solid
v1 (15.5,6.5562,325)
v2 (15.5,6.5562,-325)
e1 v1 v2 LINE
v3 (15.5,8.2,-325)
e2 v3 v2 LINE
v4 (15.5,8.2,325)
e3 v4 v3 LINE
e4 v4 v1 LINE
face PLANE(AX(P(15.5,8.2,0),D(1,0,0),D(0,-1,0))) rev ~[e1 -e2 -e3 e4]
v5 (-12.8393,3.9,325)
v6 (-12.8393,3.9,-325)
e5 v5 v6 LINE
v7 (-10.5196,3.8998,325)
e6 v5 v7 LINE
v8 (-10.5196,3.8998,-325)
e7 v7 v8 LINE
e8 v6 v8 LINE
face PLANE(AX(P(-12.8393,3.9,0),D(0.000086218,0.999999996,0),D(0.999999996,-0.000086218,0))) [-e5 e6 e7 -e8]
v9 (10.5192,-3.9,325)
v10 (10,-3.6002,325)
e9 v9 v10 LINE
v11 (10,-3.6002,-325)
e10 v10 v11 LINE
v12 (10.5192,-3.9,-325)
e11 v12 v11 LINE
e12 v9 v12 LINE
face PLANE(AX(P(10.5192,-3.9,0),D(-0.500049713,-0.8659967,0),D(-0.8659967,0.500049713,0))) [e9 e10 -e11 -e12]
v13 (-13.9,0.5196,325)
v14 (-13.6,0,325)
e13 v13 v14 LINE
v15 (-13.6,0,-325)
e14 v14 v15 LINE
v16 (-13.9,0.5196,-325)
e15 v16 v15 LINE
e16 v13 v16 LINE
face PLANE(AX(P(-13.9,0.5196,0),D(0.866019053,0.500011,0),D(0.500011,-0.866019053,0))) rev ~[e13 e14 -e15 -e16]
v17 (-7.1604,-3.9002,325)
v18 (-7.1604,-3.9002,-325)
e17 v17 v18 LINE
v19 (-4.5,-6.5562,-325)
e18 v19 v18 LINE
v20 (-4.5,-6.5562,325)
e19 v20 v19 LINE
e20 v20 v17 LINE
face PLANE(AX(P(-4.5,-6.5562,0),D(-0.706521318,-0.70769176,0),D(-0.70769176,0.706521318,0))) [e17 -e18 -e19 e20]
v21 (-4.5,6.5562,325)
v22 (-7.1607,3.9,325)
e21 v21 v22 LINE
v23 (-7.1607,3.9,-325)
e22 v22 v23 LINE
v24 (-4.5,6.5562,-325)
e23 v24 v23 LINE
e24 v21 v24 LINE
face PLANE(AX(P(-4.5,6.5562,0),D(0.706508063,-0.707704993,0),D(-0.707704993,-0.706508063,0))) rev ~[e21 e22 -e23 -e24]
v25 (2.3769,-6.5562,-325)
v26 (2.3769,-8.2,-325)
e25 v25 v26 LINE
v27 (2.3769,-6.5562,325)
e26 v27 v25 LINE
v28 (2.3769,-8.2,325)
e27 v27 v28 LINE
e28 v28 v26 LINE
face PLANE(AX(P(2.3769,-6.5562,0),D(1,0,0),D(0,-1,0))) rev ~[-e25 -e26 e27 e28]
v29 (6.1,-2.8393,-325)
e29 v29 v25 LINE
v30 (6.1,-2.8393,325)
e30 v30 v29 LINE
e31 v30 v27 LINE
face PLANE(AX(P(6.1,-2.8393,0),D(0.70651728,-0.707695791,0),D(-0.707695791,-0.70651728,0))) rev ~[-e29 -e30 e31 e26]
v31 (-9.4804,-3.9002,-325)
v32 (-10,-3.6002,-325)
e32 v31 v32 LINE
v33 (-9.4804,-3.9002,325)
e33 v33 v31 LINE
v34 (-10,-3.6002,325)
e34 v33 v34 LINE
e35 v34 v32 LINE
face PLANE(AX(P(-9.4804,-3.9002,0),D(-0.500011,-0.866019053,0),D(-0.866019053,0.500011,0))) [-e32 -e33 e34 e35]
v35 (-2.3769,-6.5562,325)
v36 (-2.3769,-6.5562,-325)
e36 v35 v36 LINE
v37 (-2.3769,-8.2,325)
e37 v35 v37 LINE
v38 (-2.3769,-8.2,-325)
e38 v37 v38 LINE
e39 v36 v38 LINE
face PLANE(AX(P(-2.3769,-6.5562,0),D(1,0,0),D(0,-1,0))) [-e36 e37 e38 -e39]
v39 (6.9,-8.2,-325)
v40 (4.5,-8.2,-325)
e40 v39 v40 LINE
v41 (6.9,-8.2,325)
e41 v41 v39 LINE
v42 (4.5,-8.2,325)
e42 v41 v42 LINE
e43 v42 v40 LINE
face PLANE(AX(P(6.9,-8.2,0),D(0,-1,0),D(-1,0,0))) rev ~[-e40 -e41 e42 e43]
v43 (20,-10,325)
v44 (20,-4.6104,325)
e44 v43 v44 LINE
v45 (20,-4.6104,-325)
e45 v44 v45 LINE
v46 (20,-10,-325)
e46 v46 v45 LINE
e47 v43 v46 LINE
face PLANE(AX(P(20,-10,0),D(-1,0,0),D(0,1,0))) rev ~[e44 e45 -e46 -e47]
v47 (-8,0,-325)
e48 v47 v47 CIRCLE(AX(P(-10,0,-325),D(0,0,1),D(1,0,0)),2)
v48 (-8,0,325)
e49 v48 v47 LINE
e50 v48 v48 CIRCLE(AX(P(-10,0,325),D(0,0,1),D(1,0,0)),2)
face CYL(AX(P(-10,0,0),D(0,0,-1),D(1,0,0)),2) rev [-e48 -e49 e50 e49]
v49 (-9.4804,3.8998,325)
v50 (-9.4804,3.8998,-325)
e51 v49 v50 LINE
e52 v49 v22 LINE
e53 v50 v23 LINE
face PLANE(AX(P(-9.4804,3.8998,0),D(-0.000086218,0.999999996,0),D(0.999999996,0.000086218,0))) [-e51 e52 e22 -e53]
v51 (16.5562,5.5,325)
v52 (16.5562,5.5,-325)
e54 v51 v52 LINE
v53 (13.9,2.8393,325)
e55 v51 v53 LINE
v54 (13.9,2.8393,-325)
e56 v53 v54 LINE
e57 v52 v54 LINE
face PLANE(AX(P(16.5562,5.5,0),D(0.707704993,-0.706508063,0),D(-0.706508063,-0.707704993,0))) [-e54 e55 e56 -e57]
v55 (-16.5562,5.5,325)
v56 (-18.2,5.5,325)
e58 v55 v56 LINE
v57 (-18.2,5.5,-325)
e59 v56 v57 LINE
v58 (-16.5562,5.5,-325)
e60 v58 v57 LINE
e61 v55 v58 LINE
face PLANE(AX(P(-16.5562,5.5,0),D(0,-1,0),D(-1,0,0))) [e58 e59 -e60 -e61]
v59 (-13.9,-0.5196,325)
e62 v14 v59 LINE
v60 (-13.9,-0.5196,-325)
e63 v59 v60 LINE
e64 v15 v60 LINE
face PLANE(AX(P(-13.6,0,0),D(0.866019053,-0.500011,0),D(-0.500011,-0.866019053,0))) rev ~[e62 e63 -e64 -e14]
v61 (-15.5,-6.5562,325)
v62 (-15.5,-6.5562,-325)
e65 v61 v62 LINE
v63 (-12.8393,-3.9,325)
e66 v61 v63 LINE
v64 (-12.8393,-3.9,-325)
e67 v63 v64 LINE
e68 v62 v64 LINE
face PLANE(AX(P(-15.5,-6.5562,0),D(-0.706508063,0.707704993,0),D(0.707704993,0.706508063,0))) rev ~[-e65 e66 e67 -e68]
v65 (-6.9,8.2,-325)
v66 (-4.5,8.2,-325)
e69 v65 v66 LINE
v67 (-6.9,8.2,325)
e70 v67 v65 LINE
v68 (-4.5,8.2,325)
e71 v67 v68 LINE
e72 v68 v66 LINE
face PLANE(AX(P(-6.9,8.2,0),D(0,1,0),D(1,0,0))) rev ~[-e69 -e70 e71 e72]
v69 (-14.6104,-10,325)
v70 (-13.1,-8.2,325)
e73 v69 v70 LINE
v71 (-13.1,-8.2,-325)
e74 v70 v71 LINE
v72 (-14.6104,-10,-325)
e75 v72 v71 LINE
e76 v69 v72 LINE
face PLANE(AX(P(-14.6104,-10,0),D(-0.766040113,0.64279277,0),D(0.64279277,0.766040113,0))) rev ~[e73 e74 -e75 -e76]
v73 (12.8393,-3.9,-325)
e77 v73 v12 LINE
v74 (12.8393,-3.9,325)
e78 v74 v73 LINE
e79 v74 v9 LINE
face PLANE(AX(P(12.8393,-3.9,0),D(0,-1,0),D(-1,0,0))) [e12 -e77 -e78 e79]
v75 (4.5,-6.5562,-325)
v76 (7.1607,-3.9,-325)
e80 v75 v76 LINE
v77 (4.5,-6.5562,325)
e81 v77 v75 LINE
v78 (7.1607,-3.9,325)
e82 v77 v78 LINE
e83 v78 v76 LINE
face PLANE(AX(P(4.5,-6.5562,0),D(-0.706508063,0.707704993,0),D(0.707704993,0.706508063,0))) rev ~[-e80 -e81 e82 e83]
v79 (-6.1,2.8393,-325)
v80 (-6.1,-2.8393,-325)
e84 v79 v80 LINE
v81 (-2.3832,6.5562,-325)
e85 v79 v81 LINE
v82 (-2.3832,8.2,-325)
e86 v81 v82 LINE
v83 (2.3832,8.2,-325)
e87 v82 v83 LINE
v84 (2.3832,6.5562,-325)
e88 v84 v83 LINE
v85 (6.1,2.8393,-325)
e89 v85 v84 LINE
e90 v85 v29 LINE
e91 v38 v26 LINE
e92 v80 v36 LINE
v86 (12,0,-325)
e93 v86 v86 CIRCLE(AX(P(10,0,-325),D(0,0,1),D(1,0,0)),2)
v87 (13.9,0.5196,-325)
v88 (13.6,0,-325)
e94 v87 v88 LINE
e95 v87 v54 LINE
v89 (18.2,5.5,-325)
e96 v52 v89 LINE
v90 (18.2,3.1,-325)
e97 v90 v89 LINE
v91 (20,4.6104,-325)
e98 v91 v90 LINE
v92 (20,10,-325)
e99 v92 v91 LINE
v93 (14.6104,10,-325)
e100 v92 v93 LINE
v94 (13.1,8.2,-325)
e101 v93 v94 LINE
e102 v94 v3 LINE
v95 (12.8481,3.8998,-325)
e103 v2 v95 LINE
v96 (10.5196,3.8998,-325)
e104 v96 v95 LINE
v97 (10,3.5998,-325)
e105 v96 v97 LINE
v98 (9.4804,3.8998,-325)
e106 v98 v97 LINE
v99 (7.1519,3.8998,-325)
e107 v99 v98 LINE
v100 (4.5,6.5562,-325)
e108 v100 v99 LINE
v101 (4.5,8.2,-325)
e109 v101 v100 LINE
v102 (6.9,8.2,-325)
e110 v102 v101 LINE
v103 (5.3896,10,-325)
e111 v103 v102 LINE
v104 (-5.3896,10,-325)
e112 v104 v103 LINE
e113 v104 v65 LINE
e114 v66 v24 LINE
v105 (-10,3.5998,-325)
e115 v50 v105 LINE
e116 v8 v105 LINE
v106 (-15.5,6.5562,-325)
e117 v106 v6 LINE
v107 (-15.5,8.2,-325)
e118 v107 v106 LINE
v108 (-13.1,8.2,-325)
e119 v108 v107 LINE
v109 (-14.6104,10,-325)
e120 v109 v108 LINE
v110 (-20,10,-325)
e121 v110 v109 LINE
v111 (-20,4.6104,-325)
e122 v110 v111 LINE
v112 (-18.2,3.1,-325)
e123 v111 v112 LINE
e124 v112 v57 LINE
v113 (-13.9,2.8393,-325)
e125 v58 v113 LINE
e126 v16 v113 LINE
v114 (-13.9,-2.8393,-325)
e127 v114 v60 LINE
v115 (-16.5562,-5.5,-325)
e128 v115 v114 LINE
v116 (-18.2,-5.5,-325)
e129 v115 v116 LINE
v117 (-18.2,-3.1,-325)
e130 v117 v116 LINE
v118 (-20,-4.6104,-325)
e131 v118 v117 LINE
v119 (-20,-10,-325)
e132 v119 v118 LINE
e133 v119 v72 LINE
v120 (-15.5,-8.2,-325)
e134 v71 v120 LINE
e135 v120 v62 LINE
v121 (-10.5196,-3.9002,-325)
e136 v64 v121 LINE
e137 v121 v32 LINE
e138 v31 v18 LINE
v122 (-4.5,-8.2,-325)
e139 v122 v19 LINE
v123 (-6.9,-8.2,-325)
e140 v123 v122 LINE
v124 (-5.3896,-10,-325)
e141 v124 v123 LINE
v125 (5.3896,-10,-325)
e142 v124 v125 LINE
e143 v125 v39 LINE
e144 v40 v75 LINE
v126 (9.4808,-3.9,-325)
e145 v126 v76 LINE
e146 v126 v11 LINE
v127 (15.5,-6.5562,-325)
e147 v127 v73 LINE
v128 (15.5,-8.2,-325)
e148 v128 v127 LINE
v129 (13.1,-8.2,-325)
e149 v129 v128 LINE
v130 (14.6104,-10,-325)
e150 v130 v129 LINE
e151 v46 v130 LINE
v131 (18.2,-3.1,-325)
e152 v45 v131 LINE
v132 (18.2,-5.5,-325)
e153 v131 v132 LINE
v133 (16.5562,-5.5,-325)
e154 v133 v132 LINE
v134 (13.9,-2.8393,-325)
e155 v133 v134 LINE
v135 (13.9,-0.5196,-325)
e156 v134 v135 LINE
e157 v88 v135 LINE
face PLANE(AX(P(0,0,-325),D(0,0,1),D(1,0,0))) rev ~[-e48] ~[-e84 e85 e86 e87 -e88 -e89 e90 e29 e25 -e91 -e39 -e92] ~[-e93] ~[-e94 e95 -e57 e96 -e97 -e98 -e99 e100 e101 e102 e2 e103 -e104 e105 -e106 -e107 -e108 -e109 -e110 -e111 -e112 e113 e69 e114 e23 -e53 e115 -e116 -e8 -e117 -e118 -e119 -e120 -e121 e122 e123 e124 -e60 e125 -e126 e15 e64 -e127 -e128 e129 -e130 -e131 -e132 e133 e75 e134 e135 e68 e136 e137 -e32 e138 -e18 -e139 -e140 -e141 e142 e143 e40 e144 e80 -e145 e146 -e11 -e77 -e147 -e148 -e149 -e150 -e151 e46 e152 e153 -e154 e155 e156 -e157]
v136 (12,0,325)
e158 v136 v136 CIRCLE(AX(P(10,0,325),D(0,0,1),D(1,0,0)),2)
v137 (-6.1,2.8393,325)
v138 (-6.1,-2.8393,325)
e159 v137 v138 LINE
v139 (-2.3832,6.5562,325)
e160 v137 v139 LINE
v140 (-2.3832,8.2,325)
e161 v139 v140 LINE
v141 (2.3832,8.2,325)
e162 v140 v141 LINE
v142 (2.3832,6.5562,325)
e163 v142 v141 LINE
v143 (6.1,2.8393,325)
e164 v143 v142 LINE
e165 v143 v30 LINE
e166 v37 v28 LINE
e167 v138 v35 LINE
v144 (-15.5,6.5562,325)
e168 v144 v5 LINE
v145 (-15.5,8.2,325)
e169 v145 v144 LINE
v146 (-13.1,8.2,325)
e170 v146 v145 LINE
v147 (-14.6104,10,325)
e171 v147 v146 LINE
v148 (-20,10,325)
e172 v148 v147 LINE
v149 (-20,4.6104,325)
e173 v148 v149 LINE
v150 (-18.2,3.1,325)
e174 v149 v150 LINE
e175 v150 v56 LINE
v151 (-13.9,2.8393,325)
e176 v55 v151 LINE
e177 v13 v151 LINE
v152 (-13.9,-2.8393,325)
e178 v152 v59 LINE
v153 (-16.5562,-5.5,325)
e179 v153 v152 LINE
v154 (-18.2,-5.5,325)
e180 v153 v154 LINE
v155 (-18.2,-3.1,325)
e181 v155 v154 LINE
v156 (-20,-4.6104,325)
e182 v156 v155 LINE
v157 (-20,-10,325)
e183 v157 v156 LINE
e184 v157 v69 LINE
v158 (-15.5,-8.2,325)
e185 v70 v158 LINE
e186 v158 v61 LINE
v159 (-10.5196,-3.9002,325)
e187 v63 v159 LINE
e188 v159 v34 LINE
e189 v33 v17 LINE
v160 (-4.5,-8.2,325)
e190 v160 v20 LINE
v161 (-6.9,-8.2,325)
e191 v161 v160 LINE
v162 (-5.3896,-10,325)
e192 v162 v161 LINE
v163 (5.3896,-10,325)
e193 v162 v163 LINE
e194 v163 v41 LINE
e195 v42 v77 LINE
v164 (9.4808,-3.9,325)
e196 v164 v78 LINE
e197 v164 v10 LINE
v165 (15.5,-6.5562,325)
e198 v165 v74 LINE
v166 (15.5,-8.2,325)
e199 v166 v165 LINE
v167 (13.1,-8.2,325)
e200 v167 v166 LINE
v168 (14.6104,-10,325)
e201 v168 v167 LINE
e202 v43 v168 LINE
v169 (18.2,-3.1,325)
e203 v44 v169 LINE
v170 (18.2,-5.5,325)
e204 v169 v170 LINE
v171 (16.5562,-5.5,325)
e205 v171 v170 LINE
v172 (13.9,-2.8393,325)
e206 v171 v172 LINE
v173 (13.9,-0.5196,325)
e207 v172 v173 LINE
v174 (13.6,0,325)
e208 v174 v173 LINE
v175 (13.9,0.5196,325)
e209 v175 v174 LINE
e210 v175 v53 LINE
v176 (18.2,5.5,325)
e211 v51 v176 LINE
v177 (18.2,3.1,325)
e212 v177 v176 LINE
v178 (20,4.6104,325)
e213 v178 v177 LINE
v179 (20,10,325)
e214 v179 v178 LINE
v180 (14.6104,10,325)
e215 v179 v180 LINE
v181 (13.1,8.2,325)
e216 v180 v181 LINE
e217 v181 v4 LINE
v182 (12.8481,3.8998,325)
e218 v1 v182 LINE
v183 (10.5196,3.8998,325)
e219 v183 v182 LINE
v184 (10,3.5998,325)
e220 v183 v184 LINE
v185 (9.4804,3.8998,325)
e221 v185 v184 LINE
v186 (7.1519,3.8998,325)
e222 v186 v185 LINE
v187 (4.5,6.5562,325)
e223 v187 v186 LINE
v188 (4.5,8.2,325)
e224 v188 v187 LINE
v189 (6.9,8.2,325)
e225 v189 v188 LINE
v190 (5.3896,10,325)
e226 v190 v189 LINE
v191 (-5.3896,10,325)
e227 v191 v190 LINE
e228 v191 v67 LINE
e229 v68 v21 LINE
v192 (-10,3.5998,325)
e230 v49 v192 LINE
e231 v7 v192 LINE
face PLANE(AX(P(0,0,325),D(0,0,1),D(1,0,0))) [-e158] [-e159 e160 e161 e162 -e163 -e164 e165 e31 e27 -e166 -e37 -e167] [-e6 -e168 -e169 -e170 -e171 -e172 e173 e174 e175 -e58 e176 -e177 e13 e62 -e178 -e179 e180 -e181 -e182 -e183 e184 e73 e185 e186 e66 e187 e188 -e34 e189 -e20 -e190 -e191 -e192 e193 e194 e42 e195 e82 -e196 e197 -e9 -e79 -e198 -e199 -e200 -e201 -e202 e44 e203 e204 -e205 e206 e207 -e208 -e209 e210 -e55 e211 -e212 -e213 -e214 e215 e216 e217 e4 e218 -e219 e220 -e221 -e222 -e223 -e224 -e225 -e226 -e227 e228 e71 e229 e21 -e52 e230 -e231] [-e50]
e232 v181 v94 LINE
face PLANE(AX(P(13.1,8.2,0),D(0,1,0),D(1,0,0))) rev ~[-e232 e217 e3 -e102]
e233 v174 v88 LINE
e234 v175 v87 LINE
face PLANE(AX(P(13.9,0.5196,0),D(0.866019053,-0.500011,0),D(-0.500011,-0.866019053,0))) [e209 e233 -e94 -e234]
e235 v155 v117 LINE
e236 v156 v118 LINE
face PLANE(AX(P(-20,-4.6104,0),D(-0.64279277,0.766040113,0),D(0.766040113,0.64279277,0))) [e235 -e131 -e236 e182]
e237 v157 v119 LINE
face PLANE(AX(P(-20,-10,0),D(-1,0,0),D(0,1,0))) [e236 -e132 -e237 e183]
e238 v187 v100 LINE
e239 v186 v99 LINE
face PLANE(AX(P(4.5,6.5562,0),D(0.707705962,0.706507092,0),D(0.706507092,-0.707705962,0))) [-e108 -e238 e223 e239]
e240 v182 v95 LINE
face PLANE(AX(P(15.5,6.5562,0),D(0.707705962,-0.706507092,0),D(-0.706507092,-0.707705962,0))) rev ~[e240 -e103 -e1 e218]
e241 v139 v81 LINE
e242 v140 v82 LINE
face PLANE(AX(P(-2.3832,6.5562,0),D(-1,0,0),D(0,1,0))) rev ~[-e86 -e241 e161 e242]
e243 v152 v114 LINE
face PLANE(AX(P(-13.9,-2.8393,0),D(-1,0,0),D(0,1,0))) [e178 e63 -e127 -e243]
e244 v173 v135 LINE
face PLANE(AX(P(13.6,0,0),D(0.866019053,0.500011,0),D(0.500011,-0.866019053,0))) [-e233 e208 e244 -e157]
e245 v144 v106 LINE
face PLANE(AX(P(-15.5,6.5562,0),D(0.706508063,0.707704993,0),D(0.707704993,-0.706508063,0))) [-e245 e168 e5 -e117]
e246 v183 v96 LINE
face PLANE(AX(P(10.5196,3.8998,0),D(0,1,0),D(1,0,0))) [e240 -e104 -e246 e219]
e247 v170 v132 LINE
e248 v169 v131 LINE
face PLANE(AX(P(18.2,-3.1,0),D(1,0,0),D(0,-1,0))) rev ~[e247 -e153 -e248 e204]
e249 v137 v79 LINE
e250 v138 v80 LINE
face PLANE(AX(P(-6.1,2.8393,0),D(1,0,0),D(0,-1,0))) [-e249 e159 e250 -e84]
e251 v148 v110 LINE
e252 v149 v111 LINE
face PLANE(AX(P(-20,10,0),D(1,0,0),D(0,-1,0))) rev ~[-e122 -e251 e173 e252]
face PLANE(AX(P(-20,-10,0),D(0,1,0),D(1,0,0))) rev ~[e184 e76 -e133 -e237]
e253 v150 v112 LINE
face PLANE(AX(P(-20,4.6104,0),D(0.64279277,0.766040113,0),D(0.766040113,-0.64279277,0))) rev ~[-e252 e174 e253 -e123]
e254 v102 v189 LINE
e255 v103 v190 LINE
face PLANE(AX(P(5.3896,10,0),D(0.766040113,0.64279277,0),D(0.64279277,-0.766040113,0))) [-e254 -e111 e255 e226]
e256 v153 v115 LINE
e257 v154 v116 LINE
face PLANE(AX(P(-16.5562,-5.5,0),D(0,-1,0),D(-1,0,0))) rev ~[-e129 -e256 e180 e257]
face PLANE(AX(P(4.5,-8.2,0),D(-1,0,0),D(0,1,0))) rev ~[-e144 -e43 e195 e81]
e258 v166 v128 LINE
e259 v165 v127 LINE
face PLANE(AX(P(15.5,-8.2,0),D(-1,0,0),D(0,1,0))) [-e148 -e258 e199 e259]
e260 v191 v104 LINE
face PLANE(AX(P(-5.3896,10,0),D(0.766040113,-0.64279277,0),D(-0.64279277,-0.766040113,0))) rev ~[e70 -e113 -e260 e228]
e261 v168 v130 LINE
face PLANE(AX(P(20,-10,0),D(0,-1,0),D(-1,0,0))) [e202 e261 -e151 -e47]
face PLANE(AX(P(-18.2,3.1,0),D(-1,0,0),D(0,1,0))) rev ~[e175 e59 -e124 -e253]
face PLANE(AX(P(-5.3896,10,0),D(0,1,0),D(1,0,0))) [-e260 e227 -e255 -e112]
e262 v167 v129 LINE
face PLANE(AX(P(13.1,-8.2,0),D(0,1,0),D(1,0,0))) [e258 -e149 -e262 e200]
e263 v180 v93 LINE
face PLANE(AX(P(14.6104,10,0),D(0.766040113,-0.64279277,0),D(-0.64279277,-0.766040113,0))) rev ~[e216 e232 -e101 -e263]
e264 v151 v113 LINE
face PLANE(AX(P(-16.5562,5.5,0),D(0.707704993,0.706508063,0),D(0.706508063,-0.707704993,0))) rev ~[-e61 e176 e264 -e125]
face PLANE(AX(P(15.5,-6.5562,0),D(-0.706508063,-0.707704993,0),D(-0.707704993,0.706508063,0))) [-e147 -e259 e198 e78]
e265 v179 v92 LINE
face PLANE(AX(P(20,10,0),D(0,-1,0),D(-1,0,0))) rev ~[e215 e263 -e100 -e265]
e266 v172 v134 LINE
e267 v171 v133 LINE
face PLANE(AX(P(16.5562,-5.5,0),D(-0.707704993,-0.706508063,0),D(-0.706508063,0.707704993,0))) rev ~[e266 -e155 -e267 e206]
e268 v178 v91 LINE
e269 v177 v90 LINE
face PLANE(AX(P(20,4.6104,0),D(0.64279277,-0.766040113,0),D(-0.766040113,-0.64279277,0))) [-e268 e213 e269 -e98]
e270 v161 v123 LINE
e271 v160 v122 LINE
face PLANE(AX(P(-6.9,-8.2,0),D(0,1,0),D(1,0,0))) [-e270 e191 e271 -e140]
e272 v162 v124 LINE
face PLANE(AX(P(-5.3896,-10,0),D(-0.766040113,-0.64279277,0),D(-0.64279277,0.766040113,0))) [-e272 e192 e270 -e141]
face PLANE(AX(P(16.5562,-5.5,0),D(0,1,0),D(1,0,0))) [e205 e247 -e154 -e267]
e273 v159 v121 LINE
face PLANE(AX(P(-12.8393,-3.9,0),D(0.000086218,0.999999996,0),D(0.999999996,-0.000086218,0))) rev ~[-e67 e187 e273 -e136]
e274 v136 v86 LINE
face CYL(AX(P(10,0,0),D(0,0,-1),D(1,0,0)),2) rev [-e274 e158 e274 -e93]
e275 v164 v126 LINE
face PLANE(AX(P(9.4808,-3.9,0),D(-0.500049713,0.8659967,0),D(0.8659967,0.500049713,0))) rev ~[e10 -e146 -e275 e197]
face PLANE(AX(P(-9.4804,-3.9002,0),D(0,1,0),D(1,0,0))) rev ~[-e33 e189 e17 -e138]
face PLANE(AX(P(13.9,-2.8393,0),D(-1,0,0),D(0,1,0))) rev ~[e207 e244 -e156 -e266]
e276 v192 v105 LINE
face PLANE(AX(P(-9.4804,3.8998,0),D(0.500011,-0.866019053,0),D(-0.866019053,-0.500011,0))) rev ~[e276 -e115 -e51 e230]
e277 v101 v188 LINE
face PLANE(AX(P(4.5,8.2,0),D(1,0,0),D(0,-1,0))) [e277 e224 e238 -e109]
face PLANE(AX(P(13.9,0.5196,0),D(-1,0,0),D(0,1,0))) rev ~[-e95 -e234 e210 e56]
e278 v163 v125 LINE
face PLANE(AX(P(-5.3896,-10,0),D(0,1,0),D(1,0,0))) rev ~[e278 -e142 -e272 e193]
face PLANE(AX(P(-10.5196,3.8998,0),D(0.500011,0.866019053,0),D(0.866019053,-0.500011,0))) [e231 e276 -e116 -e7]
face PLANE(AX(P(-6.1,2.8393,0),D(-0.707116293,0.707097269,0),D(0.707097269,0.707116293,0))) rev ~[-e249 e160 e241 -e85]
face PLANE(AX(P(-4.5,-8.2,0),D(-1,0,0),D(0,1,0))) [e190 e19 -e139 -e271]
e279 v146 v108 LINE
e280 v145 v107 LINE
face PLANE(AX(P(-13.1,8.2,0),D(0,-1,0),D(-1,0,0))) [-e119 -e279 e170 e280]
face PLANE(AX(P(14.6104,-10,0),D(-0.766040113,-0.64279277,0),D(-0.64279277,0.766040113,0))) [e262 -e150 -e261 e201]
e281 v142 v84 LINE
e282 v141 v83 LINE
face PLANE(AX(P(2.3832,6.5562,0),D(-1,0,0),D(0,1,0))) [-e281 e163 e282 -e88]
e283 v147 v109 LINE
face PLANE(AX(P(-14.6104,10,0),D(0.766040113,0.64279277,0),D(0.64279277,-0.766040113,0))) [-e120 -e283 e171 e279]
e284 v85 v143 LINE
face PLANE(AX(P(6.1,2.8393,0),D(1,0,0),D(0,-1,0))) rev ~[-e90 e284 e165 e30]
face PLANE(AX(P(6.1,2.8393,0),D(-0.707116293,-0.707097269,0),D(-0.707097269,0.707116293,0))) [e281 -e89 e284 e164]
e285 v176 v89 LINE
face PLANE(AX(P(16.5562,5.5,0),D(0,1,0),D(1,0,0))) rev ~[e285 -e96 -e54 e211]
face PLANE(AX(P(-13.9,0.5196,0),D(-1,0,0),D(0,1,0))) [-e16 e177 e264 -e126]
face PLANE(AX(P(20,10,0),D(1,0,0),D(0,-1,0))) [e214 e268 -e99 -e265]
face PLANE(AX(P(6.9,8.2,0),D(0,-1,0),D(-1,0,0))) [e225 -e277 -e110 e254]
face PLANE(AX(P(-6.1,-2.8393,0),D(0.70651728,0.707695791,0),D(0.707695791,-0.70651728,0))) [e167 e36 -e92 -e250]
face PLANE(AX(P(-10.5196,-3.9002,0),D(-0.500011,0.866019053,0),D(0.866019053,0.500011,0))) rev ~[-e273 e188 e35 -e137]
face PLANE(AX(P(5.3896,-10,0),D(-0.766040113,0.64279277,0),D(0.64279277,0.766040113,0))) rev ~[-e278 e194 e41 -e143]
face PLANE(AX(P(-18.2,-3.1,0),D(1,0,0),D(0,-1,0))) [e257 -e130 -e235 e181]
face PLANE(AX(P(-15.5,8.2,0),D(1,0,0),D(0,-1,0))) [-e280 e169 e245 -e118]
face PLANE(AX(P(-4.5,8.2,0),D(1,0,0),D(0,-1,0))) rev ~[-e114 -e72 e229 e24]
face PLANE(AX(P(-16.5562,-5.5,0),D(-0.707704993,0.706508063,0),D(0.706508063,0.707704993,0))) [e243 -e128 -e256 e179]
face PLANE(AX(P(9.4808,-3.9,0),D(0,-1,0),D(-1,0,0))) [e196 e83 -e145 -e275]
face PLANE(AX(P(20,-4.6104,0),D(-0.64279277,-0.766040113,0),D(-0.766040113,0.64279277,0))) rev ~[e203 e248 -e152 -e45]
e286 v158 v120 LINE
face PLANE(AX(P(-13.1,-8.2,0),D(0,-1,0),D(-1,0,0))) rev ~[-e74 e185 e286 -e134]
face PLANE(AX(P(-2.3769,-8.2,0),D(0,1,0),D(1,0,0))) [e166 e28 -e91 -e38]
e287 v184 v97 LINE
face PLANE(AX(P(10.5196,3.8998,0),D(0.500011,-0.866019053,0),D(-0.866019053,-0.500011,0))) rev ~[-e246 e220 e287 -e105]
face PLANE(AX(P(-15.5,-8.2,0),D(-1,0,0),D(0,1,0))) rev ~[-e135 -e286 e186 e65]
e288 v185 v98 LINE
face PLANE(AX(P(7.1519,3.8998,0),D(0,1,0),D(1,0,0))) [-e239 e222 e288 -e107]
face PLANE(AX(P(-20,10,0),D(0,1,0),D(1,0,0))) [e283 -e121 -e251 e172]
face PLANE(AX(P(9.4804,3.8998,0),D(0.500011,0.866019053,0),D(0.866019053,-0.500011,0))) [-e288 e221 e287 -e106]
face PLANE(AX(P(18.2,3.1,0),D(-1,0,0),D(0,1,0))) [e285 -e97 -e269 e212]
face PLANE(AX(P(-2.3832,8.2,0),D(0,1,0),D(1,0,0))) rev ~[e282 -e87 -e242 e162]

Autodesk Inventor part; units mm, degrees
ref_plane "YZ Plane" through (0, 0, 0) normal (1, 0, 0) x (0, 1, 0)
ref_plane "XZ Plane" through (0, 0, 0) normal (0, 1, 0) x (-1, 0, 0)
ref_plane "XY Plane" through (0, 0, 0) normal (0, 0, 1) x (1, 0, 0)
sketch "Sketch1" plane through (0, 0, 0) normal (0, 0, 1) x (1, 0, 0)
  line L0 (4.5, 8.2) -> (4.5, 6.5562)
  line L1 (6.9, 8.2) -> (4.5, 8.2)
  line L2 (5.3896, 10) -> (6.9, 8.2)
  line L3 (-5.3896, 10) -> (5.3896, 10)
  line L4 (-5.3896, 10) -> (-6.9, 8.2)
  line L5 (-6.9, 8.2) -> (-4.5, 8.2)
  line L6 (-4.5, 8.2) -> (-4.5, 6.5562)
  line L7 (-4.5, 6.5562) -> (-7.1607, 3.9)
  line L8 (-9.4804, 3.8998) -> (-7.1607, 3.9)
  line L9 (-9.4804, 3.8998) -> (-10, 3.5998)
  line L10 (-10.5196, 3.8998) -> (-10, 3.5998)
  line L11 (-12.8393, 3.9) -> (-10.5196, 3.8998)
  line L12 (-15.5, 6.5562) -> (-12.8393, 3.9)
  line L13 (-15.5, 8.2) -> (-15.5, 6.5562)
  line L14 (-13.1, 8.2) -> (-15.5, 8.2)
  line L15 (-14.6104, 10) -> (-13.1, 8.2)
  line L16 (-20, 10) -> (-14.6104, 10)
  line L17 (-20, 10) -> (-20, 4.6104)
  line L18 (-20, 4.6104) -> (-18.2, 3.1)
  line L19 (-18.2, 3.1) -> (-18.2, 5.5)
  line L20 (-16.5562, 5.5) -> (-18.2, 5.5)
  line L21 (-16.5562, 5.5) -> (-13.9, 2.8393)
  line L22 (-13.9, 0.5196) -> (-13.9, 2.8393)
  line L23 (-13.9, 0.5196) -> (-13.6, 0)
  line L24 (-13.6, 0) -> (-13.9, -0.5196)
  line L25 (-13.9, -2.8393) -> (-13.9, -0.5196)
  line L26 (-16.5562, -5.5) -> (-13.9, -2.8393)
  line L27 (-16.5562, -5.5) -> (-18.2, -5.5)
  line L28 (-18.2, -3.1) -> (-18.2, -5.5)
  line L29 (-20, -4.6104) -> (-18.2, -3.1)
  line L30 (-20, -10) -> (-20, -4.6104)
  line L31 (-20, -10) -> (-14.6104, -10)
  line L32 (-14.6104, -10) -> (-13.1, -8.2)
  line L33 (-13.1, -8.2) -> (-15.5, -8.2)
  line L34 (-15.5, -8.2) -> (-15.5, -6.5562)
  line L35 (-15.5, -6.5562) -> (-12.8393, -3.9)
  line L36 (-12.8393, -3.9) -> (-10.5196, -3.9002)
  line L37 (-10.5196, -3.9002) -> (-10, -3.6002)
  line L38 (-9.4804, -3.9002) -> (-10, -3.6002)
  line L39 (-9.4804, -3.9002) -> (-7.1604, -3.9002)
  line L40 (-4.5, -6.5562) -> (-7.1604, -3.9002)
  line L41 (-4.5, -8.2) -> (-4.5, -6.5562)
  line L42 (-6.9, -8.2) -> (-4.5, -8.2)
  line L43 (-5.3896, -10) -> (-6.9, -8.2)
  line L44 (-5.3896, -10) -> (5.3896, -10)
  line L45 (5.3896, -10) -> (6.9, -8.2)
  line L46 (6.9, -8.2) -> (4.5, -8.2)
  line L47 (4.5, -8.2) -> (4.5, -6.5562)
  line L48 (4.5, -6.5562) -> (7.1607, -3.9)
  line L49 (9.4808, -3.9) -> (7.1607, -3.9)
  line L50 (9.4808, -3.9) -> (10, -3.6002)
  line L51 (10.5192, -3.9) -> (10, -3.6002)
  line L52 (12.8393, -3.9) -> (10.5192, -3.9)
  line L53 (15.5, -6.5562) -> (12.8393, -3.9)
  line L54 (15.5, -8.2) -> (15.5, -6.5562)
  line L55 (13.1, -8.2) -> (15.5, -8.2)
  line L56 (14.6104, -10) -> (13.1, -8.2)
  line L57 (20, -10) -> (14.6104, -10)
  line L58 (20, -10) -> (20, -4.6104)
  line L59 (20, -4.6104) -> (18.2, -3.1)
  line L60 (18.2, -3.1) -> (18.2, -5.5)
  line L61 (16.5562, -5.5) -> (18.2, -5.5)
  line L62 (16.5562, -5.5) -> (13.9, -2.8393)
  line L63 (13.9, -2.8393) -> (13.9, -0.5196)
  line L64 (13.6, 0) -> (13.9, -0.5196)
  line L65 (13.9, 0.5196) -> (13.6, 0)
  line L66 (13.9, 0.5196) -> (13.9, 2.8393)
  line L67 (16.5562, 5.5) -> (13.9, 2.8393)
  line L68 (16.5562, 5.5) -> (18.2, 5.5)
  line L69 (18.2, 3.1) -> (18.2, 5.5)
  line L70 (20, 4.6104) -> (18.2, 3.1)
  line L71 (20, 10) -> (20, 4.6104)
  line L72 (20, 10) -> (14.6104, 10)
  line L73 (14.6104, 10) -> (13.1, 8.2)
  line L74 (13.1, 8.2) -> (15.5, 8.2)
  line L75 (15.5, 8.2) -> (15.5, 6.5562)
  line L76 (15.5, 6.5562) -> (12.8481, 3.8998)
  line L77 (10.5196, 3.8998) -> (12.8481, 3.8998)
  line L78 (10.5196, 3.8998) -> (10, 3.5998)
  line L79 (9.4804, 3.8998) -> (10, 3.5998)
  line L80 (7.1519, 3.8998) -> (9.4804, 3.8998)
  line L81 (4.5, 6.5562) -> (7.1519, 3.8998)
  circle A0 centre (-10, 0) radius 2
  circle A1 centre (10, 0) radius 2
  line L82 (6.1, 2.8393) -> (2.3832, 6.5562)
  line L83 (6.1, 2.8393) -> (6.1, -2.8393)
  line L84 (6.1, -2.8393) -> (2.3769, -6.5562)
  line L85 (2.3769, -6.5562) -> (2.3769, -8.2)
  line L86 (-2.3769, -8.2) -> (2.3769, -8.2)
  line L87 (-2.3769, -6.5562) -> (-2.3769, -8.2)
  line L88 (-6.1, -2.8393) -> (-2.3769, -6.5562)
  line L89 (-6.1, 2.8393) -> (-6.1, -2.8393)
  line L90 (-6.1, 2.8393) -> (-2.3832, 6.5562)
  line L91 (-2.3832, 6.5562) -> (-2.3832, 8.2)
  line L92 (-2.3832, 8.2) -> (2.3832, 8.2)
  line L93 (2.3832, 6.5562) -> (2.3832, 8.2)
  point P0 (0, 0)
  point P1 (0, 0)
extrude "Extrusion1" add sketch "Sketch1" along normal mid plane 650
properties part number "vslot_2040_650mm"
